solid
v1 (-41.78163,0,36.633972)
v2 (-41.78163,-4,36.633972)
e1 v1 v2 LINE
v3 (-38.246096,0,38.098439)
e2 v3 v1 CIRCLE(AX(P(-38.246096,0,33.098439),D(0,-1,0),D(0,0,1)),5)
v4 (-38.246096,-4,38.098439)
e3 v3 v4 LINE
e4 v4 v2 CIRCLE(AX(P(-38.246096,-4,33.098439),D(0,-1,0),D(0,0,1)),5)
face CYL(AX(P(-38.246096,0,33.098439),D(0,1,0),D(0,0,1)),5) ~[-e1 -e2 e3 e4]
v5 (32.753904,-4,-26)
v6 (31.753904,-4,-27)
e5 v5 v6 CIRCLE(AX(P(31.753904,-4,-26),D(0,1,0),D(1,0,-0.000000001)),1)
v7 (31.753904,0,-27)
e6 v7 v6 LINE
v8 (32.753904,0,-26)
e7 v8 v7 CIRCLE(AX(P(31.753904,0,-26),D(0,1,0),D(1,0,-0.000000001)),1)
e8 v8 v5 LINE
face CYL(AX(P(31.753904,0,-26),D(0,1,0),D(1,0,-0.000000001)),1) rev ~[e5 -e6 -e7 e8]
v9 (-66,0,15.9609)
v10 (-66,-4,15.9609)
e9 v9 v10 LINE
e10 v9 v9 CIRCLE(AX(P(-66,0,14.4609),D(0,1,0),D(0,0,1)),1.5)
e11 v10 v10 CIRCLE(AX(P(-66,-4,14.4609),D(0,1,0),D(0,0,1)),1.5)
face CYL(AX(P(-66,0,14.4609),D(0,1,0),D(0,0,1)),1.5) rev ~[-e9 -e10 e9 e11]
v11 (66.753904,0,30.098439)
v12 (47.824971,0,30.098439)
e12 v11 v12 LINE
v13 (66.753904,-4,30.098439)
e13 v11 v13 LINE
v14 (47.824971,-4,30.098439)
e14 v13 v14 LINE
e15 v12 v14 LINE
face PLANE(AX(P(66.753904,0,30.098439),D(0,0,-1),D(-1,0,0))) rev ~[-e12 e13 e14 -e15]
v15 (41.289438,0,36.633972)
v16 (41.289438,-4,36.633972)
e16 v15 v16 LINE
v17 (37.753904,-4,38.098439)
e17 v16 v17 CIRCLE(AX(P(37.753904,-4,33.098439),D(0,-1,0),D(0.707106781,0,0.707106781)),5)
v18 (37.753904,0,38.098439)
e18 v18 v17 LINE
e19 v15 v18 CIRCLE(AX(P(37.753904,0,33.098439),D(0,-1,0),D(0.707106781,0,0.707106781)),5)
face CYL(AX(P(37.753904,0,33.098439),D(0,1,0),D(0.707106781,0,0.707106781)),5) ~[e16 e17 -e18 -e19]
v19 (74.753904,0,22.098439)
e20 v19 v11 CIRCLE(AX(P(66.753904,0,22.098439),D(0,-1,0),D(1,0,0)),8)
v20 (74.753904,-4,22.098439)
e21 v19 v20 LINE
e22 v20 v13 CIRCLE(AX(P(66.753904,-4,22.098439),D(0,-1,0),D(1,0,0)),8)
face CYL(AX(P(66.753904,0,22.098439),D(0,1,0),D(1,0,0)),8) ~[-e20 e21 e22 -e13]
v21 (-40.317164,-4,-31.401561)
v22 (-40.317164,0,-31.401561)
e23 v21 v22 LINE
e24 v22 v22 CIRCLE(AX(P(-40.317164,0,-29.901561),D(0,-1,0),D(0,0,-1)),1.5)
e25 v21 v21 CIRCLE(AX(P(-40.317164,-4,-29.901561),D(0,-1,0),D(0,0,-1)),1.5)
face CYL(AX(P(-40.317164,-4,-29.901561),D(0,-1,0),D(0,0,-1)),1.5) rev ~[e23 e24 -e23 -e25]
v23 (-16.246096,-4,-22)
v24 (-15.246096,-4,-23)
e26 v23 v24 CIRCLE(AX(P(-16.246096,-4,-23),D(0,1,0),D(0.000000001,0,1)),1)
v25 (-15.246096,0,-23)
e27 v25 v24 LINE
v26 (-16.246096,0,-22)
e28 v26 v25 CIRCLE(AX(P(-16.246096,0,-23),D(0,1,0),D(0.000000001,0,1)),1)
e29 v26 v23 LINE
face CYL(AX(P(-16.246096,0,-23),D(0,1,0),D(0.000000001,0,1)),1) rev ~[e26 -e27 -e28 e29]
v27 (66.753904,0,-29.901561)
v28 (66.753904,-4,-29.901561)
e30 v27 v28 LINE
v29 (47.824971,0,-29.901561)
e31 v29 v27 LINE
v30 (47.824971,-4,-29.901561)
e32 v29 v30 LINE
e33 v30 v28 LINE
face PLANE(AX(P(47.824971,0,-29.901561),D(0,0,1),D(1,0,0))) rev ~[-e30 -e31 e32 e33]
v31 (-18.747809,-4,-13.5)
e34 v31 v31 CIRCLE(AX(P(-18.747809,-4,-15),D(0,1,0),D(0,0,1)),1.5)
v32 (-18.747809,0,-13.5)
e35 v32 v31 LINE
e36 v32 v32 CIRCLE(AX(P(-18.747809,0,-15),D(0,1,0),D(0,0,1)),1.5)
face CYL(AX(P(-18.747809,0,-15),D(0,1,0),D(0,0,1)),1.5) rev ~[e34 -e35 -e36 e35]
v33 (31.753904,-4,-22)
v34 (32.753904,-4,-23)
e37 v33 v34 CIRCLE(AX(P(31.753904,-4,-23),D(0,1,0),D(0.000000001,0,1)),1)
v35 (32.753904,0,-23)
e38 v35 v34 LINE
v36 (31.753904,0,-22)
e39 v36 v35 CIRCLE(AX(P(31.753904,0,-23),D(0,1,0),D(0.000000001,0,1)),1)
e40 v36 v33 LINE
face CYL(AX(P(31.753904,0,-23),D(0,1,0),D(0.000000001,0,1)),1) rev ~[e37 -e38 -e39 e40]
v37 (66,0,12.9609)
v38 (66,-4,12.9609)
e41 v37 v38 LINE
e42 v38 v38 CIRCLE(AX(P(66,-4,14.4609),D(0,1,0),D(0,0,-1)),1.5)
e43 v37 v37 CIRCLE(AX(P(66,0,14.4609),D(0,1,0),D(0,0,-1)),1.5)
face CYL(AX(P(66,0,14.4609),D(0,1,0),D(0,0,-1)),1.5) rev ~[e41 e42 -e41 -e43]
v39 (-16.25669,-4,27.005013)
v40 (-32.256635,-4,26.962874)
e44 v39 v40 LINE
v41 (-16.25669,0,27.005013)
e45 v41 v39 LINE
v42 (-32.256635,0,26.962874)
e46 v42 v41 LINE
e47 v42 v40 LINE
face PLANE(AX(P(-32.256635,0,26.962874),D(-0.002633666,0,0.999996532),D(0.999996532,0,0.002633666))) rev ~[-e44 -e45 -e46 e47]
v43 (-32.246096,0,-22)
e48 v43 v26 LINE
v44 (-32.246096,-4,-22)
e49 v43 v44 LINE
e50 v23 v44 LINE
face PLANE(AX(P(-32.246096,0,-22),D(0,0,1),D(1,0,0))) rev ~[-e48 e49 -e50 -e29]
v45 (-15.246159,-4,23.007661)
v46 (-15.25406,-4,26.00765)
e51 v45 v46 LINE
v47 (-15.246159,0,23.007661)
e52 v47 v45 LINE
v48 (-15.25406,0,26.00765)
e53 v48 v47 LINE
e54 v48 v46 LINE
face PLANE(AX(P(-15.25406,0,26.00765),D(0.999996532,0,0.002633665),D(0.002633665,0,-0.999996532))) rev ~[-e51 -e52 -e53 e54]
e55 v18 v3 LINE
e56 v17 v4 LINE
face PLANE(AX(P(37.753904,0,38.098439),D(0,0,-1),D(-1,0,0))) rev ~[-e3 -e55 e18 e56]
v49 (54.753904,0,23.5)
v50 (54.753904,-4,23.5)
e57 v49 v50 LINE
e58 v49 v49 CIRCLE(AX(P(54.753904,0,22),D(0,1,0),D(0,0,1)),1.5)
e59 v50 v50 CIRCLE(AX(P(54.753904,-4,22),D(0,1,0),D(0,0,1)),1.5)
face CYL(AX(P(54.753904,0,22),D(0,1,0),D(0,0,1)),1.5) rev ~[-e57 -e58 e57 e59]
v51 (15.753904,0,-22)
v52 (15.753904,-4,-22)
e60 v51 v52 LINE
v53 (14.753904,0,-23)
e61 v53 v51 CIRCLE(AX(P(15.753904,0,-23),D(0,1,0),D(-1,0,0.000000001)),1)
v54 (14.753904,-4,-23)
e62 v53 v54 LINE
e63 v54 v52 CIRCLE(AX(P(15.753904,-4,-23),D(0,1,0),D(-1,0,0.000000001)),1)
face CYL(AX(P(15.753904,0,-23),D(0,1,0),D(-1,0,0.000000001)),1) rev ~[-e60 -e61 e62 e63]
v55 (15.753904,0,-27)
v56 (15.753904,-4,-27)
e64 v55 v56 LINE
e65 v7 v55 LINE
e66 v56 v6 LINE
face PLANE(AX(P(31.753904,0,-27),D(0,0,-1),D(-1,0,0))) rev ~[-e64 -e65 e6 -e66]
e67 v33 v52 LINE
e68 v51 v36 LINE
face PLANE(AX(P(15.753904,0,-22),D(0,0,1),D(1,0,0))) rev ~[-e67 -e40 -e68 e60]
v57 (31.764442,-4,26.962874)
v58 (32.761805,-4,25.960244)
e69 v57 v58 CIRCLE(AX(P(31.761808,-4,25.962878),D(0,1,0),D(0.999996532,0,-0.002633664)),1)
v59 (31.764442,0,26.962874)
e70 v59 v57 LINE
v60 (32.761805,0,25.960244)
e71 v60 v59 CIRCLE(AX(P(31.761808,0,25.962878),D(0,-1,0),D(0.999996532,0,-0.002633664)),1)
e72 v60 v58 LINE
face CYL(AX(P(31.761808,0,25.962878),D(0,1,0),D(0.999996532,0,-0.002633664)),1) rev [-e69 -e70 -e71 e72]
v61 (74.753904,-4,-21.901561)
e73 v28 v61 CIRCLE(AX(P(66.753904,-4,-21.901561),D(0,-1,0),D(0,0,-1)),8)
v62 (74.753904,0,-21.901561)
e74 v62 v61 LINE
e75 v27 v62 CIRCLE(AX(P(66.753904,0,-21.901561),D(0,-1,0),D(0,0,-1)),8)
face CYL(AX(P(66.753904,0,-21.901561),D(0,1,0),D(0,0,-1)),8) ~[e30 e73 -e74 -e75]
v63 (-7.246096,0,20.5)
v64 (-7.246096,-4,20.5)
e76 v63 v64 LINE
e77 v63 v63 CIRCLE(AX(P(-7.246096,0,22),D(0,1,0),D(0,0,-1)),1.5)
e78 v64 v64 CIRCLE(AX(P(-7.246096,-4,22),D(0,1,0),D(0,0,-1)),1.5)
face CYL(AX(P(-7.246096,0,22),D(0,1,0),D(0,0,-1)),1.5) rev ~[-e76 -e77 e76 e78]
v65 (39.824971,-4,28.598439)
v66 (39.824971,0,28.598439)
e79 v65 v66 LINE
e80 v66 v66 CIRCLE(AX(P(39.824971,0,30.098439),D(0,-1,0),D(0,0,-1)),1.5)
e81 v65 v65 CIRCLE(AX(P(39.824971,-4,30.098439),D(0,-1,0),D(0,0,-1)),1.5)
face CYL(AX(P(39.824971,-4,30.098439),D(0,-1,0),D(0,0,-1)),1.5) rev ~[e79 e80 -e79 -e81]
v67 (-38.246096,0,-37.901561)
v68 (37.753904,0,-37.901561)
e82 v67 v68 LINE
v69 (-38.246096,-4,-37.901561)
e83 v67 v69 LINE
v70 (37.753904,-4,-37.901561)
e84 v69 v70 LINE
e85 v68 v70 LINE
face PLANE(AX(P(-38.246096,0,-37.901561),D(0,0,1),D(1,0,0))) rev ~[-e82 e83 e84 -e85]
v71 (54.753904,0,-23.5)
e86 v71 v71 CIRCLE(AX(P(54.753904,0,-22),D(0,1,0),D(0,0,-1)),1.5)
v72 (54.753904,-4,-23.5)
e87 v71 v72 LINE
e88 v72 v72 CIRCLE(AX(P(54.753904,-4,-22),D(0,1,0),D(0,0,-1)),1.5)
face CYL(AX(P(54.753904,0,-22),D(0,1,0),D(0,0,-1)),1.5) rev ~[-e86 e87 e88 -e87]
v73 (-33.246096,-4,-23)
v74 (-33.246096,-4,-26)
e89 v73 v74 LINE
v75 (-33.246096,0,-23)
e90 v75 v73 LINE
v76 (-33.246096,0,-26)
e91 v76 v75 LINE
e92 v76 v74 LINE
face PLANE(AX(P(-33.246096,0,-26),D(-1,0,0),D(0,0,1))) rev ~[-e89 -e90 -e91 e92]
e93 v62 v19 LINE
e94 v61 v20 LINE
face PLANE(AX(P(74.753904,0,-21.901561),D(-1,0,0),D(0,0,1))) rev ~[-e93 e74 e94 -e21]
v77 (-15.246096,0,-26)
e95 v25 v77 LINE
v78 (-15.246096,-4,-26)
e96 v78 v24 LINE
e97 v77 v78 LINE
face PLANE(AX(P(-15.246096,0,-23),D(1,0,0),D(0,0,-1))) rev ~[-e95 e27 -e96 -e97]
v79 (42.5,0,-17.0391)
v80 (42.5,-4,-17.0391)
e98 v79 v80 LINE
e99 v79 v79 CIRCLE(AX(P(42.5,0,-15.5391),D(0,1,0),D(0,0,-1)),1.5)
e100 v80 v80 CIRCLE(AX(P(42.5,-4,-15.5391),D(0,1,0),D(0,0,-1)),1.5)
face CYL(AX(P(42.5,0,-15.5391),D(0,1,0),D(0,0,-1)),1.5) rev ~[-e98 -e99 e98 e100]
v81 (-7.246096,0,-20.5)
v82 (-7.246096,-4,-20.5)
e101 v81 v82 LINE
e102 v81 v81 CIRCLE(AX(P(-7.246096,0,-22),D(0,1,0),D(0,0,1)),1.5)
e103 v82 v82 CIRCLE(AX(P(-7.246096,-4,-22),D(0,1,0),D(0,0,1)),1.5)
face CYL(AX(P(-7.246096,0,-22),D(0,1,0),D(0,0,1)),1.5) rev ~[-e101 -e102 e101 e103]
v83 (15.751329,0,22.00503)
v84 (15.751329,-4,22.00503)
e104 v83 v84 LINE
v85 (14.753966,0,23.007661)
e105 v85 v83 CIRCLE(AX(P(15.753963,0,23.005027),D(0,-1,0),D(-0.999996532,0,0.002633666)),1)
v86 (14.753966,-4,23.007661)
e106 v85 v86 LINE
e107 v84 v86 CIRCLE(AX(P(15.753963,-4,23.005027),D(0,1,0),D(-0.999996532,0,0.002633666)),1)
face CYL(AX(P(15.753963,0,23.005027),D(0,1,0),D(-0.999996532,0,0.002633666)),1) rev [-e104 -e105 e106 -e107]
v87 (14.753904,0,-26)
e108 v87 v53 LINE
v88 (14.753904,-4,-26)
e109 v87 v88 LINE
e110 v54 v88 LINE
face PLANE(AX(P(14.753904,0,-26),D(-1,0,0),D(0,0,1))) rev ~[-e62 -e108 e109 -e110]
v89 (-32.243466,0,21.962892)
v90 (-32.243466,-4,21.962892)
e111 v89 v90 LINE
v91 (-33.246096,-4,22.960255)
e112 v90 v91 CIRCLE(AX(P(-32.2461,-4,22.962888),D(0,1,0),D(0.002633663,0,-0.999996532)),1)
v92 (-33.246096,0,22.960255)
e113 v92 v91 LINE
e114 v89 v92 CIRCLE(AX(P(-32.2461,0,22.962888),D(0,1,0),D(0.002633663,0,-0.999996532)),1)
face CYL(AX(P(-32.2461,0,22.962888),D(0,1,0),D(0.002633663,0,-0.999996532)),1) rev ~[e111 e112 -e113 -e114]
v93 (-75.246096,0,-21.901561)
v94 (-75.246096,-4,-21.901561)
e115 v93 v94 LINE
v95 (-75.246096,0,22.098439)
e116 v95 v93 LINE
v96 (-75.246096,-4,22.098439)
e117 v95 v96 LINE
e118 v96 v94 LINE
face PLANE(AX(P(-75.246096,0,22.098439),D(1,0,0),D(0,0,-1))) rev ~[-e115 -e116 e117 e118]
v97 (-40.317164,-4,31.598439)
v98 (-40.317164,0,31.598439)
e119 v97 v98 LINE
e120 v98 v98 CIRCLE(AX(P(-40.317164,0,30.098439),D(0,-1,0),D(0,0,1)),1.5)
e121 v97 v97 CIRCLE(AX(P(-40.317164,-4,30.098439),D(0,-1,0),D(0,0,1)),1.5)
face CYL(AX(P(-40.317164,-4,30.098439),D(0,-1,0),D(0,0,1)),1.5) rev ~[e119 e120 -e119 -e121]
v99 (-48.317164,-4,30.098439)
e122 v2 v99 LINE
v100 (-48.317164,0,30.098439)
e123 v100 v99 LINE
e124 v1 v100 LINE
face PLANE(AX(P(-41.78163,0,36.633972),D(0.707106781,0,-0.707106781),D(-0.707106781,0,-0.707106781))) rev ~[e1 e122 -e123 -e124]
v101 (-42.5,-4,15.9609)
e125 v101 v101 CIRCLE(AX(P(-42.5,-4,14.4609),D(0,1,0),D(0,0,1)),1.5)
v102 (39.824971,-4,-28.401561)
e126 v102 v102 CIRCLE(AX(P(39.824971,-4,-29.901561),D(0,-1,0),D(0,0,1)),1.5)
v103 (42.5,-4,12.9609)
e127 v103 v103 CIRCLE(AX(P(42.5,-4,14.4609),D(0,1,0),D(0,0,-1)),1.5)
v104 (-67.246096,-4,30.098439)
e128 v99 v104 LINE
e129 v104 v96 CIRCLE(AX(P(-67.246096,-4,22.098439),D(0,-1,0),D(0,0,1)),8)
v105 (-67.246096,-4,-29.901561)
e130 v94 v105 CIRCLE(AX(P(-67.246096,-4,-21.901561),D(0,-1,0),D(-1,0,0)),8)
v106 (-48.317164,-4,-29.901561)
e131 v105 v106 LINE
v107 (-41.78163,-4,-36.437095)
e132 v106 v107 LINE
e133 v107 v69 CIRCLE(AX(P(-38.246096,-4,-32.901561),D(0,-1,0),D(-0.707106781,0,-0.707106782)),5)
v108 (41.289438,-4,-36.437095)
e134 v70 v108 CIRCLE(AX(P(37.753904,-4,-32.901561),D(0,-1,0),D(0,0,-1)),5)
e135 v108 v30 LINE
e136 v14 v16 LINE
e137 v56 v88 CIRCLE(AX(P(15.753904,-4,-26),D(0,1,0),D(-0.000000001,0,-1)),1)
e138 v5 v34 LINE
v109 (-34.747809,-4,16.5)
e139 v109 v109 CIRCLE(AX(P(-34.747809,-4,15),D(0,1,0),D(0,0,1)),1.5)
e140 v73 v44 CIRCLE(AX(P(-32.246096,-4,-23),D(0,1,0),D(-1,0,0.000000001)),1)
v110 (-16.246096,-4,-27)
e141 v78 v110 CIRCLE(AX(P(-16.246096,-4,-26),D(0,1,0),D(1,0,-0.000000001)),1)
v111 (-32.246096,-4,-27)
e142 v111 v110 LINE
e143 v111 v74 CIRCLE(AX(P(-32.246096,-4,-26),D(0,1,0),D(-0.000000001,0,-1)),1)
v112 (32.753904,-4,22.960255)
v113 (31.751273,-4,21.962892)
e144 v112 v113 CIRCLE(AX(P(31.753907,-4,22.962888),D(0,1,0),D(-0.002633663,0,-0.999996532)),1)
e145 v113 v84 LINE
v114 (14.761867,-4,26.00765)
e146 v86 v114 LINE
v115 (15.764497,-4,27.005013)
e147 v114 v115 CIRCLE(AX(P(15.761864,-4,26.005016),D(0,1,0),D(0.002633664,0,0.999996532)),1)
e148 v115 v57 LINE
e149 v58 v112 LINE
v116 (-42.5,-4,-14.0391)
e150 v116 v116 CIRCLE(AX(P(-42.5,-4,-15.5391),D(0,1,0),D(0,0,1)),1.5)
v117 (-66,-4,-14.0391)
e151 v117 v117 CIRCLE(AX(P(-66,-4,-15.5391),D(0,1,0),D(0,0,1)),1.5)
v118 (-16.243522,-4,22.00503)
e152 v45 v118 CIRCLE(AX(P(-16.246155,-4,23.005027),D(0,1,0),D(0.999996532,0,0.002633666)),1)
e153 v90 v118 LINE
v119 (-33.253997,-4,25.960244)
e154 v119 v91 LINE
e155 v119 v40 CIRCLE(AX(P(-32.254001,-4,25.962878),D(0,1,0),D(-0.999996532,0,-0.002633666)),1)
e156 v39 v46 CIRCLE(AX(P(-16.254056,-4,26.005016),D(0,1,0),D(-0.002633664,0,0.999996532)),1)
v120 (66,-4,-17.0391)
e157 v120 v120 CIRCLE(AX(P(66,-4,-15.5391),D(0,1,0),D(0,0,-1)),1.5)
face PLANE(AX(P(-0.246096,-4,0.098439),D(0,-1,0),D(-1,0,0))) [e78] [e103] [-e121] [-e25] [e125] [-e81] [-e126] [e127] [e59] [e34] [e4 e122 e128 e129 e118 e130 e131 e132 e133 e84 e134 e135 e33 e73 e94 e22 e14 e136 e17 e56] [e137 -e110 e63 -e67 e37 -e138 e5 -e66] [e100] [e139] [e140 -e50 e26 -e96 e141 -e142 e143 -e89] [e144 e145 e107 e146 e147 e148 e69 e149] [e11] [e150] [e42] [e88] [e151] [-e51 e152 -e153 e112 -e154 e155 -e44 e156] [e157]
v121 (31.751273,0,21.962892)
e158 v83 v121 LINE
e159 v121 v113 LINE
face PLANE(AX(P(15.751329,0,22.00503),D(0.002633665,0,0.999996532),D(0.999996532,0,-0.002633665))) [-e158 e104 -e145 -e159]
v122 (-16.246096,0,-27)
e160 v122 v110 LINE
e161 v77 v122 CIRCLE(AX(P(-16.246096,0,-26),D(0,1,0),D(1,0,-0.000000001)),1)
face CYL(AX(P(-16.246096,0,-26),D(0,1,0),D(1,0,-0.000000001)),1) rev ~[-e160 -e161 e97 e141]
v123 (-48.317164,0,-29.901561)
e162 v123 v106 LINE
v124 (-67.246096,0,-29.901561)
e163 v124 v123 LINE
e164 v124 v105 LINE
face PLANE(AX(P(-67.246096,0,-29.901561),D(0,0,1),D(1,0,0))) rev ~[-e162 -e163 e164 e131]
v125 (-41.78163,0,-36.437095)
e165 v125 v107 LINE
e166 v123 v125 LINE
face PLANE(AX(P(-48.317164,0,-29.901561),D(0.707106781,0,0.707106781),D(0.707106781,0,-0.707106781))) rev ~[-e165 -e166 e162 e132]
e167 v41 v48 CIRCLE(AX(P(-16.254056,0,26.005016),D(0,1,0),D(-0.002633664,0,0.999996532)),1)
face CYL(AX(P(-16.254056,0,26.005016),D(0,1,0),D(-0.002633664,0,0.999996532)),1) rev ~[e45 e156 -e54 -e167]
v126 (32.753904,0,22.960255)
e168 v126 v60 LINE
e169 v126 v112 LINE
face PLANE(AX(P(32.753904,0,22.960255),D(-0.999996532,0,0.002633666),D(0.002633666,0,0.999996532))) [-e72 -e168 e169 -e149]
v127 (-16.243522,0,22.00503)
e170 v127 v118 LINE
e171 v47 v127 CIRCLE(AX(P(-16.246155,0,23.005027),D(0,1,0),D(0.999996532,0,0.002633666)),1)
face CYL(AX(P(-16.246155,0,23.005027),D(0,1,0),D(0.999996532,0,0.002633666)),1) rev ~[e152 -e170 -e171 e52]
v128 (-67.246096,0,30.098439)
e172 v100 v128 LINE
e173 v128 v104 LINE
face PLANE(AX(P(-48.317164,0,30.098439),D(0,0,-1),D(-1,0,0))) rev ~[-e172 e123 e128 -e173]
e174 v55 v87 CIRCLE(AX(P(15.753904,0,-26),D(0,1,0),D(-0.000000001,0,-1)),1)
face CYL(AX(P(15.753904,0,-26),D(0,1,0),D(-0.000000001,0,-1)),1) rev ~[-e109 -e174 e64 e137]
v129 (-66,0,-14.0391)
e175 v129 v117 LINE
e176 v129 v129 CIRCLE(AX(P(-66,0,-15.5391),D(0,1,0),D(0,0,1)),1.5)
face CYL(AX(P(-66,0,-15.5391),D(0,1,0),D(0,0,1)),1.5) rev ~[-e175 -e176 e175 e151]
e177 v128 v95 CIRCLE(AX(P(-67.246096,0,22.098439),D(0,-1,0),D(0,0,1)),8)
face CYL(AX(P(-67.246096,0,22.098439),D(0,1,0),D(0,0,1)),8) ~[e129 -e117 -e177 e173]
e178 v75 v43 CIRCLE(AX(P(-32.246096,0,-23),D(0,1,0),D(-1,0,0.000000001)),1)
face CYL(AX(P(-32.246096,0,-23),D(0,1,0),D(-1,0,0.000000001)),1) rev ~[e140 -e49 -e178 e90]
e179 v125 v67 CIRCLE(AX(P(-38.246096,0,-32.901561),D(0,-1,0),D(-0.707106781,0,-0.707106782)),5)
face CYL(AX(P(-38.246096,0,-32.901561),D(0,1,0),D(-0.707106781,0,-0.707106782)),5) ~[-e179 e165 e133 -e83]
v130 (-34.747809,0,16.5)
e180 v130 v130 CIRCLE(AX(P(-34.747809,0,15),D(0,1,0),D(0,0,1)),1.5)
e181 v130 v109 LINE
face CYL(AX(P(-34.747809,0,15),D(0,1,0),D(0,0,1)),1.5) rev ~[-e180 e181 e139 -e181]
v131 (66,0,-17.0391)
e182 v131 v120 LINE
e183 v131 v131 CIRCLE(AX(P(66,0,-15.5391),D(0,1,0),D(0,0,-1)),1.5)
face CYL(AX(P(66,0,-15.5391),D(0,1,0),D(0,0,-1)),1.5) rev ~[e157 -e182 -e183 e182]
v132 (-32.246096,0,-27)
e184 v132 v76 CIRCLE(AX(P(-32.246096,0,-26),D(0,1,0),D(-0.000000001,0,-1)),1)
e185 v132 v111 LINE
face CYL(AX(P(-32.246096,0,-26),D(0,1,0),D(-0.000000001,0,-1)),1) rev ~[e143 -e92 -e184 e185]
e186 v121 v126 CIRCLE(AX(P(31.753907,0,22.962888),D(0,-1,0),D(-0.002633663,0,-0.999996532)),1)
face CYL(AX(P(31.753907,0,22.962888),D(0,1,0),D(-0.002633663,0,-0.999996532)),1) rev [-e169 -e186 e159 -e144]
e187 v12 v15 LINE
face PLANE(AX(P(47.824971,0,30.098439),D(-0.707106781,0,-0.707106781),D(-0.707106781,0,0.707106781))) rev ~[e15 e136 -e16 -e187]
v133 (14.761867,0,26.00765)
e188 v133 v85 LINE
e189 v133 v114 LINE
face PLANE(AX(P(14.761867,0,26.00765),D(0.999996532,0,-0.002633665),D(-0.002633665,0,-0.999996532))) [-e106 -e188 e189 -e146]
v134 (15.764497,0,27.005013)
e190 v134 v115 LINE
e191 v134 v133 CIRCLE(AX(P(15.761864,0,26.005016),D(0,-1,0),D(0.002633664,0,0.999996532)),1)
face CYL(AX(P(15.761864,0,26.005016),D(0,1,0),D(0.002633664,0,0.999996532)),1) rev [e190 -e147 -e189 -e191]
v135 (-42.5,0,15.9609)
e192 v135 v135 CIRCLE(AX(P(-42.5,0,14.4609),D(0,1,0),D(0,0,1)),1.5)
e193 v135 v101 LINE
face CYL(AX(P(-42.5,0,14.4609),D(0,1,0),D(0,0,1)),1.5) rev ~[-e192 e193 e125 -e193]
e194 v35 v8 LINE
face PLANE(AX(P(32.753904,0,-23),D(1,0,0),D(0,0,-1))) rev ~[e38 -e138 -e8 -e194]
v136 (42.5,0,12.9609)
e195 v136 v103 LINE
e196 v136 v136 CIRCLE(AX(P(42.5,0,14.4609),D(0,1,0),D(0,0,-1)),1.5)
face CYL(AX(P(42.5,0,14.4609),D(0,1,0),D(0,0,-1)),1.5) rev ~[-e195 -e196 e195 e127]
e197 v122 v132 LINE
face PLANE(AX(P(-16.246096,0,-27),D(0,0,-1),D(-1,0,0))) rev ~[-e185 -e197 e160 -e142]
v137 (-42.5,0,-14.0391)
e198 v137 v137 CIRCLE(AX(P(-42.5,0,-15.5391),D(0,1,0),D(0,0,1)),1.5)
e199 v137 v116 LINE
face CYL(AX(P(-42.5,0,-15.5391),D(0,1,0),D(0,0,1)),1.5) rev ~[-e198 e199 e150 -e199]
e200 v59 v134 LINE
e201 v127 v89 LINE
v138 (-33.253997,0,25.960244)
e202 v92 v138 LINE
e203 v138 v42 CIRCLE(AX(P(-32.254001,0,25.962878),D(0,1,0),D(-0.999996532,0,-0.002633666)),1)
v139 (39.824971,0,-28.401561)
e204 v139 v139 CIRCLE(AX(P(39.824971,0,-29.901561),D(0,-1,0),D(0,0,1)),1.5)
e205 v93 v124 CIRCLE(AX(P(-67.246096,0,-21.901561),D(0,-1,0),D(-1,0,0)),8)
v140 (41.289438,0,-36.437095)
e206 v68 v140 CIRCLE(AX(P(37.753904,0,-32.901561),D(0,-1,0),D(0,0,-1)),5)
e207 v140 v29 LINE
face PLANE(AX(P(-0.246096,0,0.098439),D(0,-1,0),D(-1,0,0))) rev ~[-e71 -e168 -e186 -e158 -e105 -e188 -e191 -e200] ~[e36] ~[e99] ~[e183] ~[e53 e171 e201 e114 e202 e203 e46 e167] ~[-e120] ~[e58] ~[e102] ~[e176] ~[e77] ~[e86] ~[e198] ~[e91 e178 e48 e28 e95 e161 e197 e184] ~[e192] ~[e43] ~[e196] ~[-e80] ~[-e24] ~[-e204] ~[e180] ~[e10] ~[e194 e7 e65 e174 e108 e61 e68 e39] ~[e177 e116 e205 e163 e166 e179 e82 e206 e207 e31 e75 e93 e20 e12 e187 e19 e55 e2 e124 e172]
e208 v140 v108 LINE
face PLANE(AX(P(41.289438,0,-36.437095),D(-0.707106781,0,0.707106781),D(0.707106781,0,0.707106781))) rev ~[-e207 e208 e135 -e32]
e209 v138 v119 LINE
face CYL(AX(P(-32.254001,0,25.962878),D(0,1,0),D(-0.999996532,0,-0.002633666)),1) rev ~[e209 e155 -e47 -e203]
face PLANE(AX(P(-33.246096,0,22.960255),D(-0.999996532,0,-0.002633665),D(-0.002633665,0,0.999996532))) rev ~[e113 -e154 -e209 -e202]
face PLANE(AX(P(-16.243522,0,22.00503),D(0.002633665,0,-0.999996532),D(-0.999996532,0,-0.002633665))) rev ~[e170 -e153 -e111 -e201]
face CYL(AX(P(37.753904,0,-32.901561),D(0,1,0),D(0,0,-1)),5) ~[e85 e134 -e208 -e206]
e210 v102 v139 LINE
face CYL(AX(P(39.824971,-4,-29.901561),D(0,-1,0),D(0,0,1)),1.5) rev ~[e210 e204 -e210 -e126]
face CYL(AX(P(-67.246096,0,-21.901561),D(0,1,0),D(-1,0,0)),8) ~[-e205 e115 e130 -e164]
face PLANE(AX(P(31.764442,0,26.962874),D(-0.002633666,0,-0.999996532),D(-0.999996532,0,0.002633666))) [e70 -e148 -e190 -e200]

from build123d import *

# Parameters (mm, degrees)
SKETCH1_R           = 1.5
BOSS_EXTRUDE1_DEPTH = 4
SKETCH2_R           = 1.5
CUT_EXTRUDE1_DEPTH  = 4
SKETCH8_R           = 1.5
CUT_EXTRUDE5_DEPTH  = 85.436165497
SKETCH9_R           = 1.5
CUT_EXTRUDE6_DEPTH  = 10
CUT_EXTRUDE7_DEPTH  = 10


with BuildPart() as part:
    # Sketch1 → Boss-Extrude1 (new body)
    with BuildSketch(Plane(origin=(0, 0, 0), x_dir=(1, 0, 0), z_dir=(0, 1, 0))):
        with BuildLine():
            Line((-48.31716421, 29.901561441), (-41.781630304, 36.437095347))
            ThreePointArc((-41.781630304, 36.437095347), (-40.15951356, 37.520959103), (-38.246096398, 37.901561441))
            Line((-38.246096398, 37.901561441), (37.753903602, 37.901561441))
            ThreePointArc((37.753903602, 37.901561441), (39.667320764, 37.520959103), (41.289437508, 36.437095347))
            Line((41.289437508, 36.437095347), (47.824971414, 29.901561441))
            Line((47.824971414, 29.901561441), (66.753903602, 29.901561441))
            ThreePointArc((66.753903602, 29.901561441), (72.410757852, 27.55841569), (74.753903602, 21.901561441))
            Line((74.753903602, 21.901561441), (74.753903602, -22.098438559))
            ThreePointArc((74.753903602, -22.098438559), (72.410757852, -27.755292809), (66.753903602, -30.098438559))
            Line((66.753903602, -30.098438559), (47.824971414, -30.098438559))
            Line((47.824971414, -30.098438559), (41.289437508, -36.633972465))
            ThreePointArc((41.289437508, -36.633972465), (39.667320764, -37.717836222), (37.753903602, -38.098438559))
            Line((37.753903602, -38.098438559), (-38.246096398, -38.098438559))
            ThreePointArc((-38.246096398, -38.098438559), (-40.15951356, -37.717836222), (-41.781630304, -36.633972465))
            Line((-41.781630304, -36.633972465), (-48.31716421, -30.098438559))
            Line((-48.31716421, -30.098438559), (-67.246096398, -30.098438559))
            ThreePointArc((-67.246096398, -30.098438559), (-72.902950647, -27.755292809), (-75.246096398, -22.098438559))
            Line((-75.246096398, -22.098438559), (-75.246096398, 21.901561441))
            ThreePointArc((-75.246096398, 21.901561441), (-72.902950647, 27.55841569), (-67.246096398, 29.901561441))
            Line((-67.246096398, 29.901561441), (-48.31716421, 29.901561441))
        make_face()
        with Locations(Location((-7.246096398, 22, 0), (0, 0, 270))):
            Circle(SKETCH1_R, mode=Mode.SUBTRACT)
        with Locations(Location((54.753903602, 22, 0), (0, 0, 90))):
            Circle(SKETCH1_R, mode=Mode.SUBTRACT)
        with Locations(Location((54.753903602, -22, 0), (0, 0, 270))):
            Circle(SKETCH1_R, mode=Mode.SUBTRACT)
        with Locations(Location((-7.246096398, -22, 0), (0, 0, 90))):
            Circle(SKETCH1_R, mode=Mode.SUBTRACT)
    extrude(amount=-BOSS_EXTRUDE1_DEPTH)

    # Sketch2 → Cut-Extrude1 (cut)
    with BuildSketch(Plane(origin=(0, 0, 0), x_dir=(1, 0, 0), z_dir=(0, 1, 0))):
        with Locations(Location((-42.5, 15.539099556, 0), (0, 0, 270))):
            Circle(SKETCH2_R)
        with Locations(Location((-66, 15.539099556, 0), (0, 0, 270))):
            Circle(SKETCH2_R)
        with Locations(Location((-66, -14.460900444, 0), (0, 0, 270))):
            Circle(SKETCH2_R)
        with Locations(Location((-42.5, -14.460900444, 0), (0, 0, 270))):
            Circle(SKETCH2_R)
        with Locations(Location((66, 15.539099556, 0), (0, 0, 90))):
            Circle(SKETCH2_R)
        with Locations(Location((66, -14.460900444, 0), (0, 0, 90))):
            Circle(SKETCH2_R)
        with Locations(Location((42.5, -14.460900444, 0), (0, 0, 90))):
            Circle(SKETCH2_R)
        with Locations(Location((42.5, 15.539099556, 0), (0, 0, 90))):
            Circle(SKETCH2_R)
    extrude(amount=-CUT_EXTRUDE1_DEPTH, mode=Mode.SUBTRACT)

    # Sketch8 → Cut-Extrude5 (cut, through all)
    with BuildSketch(Plane.XZ.offset(4)):
        with Locations(Location((-40.31716421, -29.901561441, 0), (0, 0, 270))):
            Circle(SKETCH8_R)
        with Locations(Location((39.824971414, -29.901561441, 0), (0, 0, 90))):
            Circle(SKETCH8_R)
        with Locations(Location((39.824971414, 30.098438559, 0), (0, 0, 270))):
            Circle(SKETCH8_R)
        with Locations(Location((-40.31716421, 30.098438559, 0), (0, 0, 90))):
            Circle(SKETCH8_R)
    extrude(amount=-CUT_EXTRUDE5_DEPTH, mode=Mode.SUBTRACT)

    # Sketch9 → Cut-Extrude6 (cut)
    with BuildSketch(Plane(origin=(0, 0, 0), x_dir=(1, 0, 0), z_dir=(0, 1, 0))):
        with Locations(Location((-34.747808705, -15, 0), (0, 0, 270))):
            Circle(SKETCH9_R)
        with Locations(Location((-18.747808705, 15, 0), (0, 0, 270))):
            Circle(SKETCH9_R)
    extrude(amount=-CUT_EXTRUDE6_DEPTH, mode=Mode.SUBTRACT)

    # Sketch10 → Cut-Extrude7 (cut)
    with BuildSketch(Plane(origin=(0, 0, 0), x_dir=(1, 0, 0), z_dir=(0, 1, 0))):
        with BuildLine():
            Line((15.753903602, 22), (31.753903602, 22))
            ThreePointArc((31.753903602, 22), (32.461010383, 22.292893219), (32.753903602, 23))
            Line((32.753903602, 23), (32.753903602, 26))
            ThreePointArc((32.753903602, 26), (32.461010383, 26.707106781), (31.753903602, 27))
            Line((31.753903602, 27), (15.753903602, 27))
            ThreePointArc((15.753903602, 27), (15.046796821, 26.707106781), (14.753903602, 26))
            Line((14.753903602, 26), (14.753903602, 23))
            ThreePointArc((14.753903602, 23), (15.046796821, 22.292893219), (15.753903602, 22))
        make_face()
        with BuildLine():
            Line((-32.256634528, -26.962874327), (-16.256690018, -27.005012975))
            ThreePointArc((-16.256690018, -27.005012975), (-15.548814306, -26.713983054), (-15.25405982, -26.007650108))
            Line((-15.25405982, -26.007650108), (-15.246158824, -23.007660513))
            ThreePointArc((-15.246158824, -23.007660513), (-15.537188744, -22.299784801), (-16.24352169, -22.005030315))
            Line((-16.24352169, -22.005030315), (-32.243466201, -21.962891667))
            ThreePointArc((-32.243466201, -21.962891667), (-32.951341912, -22.253921588), (-33.246096398, -22.960254534))
            Line((-33.246096398, -22.960254534), (-33.253997394, -25.960244129))
            ThreePointArc((-33.253997394, -25.960244129), (-32.962967474, -26.668119841), (-32.256634528, -26.962874327))
        make_face()
        with BuildLine():
            Line((32.753903602, -22.960254534), (32.761804599, -25.960244129))
            ThreePointArc((32.761804599, -25.960244129), (32.470774678, -26.668119841), (31.764441732, -26.962874327))
            Line((31.764441732, -26.962874327), (15.764497222, -27.005012975))
            ThreePointArc((15.764497222, -27.005012975), (15.05662151, -26.713983054), (14.761867024, -26.007650108))
            Line((14.761867024, -26.007650108), (14.753966028, -23.007660513))
            ThreePointArc((14.753966028, -23.007660513), (15.044995948, -22.299784801), (15.751328894, -22.005030315))
            Line((15.751328894, -22.005030315), (31.751273405, -21.962891667))
            ThreePointArc((31.751273405, -21.962891667), (32.459149116, -22.253921588), (32.753903602, -22.960254534))
        make_face()
        with BuildLine():
            Line((-16.246096398, 27), (-32.246096398, 27))
            ThreePointArc((-32.246096398, 27), (-32.953203179, 26.707106781), (-33.246096398, 26))
            Line((-33.246096398, 26), (-33.246096398, 23))
            ThreePointArc((-33.246096398, 23), (-32.953203179, 22.292893219), (-32.246096398, 22))
            Line((-32.246096398, 22), (-16.246096398, 22))
            ThreePointArc((-16.246096398, 22), (-15.538989617, 22.292893219), (-15.246096398, 23))
            Line((-15.246096398, 23), (-15.246096398, 26))
            ThreePointArc((-15.246096398, 26), (-15.538989617, 26.707106781), (-16.246096398, 27))
        make_face()
    extrude(amount=-CUT_EXTRUDE7_DEPTH, mode=Mode.SUBTRACT)


solid = part.part
